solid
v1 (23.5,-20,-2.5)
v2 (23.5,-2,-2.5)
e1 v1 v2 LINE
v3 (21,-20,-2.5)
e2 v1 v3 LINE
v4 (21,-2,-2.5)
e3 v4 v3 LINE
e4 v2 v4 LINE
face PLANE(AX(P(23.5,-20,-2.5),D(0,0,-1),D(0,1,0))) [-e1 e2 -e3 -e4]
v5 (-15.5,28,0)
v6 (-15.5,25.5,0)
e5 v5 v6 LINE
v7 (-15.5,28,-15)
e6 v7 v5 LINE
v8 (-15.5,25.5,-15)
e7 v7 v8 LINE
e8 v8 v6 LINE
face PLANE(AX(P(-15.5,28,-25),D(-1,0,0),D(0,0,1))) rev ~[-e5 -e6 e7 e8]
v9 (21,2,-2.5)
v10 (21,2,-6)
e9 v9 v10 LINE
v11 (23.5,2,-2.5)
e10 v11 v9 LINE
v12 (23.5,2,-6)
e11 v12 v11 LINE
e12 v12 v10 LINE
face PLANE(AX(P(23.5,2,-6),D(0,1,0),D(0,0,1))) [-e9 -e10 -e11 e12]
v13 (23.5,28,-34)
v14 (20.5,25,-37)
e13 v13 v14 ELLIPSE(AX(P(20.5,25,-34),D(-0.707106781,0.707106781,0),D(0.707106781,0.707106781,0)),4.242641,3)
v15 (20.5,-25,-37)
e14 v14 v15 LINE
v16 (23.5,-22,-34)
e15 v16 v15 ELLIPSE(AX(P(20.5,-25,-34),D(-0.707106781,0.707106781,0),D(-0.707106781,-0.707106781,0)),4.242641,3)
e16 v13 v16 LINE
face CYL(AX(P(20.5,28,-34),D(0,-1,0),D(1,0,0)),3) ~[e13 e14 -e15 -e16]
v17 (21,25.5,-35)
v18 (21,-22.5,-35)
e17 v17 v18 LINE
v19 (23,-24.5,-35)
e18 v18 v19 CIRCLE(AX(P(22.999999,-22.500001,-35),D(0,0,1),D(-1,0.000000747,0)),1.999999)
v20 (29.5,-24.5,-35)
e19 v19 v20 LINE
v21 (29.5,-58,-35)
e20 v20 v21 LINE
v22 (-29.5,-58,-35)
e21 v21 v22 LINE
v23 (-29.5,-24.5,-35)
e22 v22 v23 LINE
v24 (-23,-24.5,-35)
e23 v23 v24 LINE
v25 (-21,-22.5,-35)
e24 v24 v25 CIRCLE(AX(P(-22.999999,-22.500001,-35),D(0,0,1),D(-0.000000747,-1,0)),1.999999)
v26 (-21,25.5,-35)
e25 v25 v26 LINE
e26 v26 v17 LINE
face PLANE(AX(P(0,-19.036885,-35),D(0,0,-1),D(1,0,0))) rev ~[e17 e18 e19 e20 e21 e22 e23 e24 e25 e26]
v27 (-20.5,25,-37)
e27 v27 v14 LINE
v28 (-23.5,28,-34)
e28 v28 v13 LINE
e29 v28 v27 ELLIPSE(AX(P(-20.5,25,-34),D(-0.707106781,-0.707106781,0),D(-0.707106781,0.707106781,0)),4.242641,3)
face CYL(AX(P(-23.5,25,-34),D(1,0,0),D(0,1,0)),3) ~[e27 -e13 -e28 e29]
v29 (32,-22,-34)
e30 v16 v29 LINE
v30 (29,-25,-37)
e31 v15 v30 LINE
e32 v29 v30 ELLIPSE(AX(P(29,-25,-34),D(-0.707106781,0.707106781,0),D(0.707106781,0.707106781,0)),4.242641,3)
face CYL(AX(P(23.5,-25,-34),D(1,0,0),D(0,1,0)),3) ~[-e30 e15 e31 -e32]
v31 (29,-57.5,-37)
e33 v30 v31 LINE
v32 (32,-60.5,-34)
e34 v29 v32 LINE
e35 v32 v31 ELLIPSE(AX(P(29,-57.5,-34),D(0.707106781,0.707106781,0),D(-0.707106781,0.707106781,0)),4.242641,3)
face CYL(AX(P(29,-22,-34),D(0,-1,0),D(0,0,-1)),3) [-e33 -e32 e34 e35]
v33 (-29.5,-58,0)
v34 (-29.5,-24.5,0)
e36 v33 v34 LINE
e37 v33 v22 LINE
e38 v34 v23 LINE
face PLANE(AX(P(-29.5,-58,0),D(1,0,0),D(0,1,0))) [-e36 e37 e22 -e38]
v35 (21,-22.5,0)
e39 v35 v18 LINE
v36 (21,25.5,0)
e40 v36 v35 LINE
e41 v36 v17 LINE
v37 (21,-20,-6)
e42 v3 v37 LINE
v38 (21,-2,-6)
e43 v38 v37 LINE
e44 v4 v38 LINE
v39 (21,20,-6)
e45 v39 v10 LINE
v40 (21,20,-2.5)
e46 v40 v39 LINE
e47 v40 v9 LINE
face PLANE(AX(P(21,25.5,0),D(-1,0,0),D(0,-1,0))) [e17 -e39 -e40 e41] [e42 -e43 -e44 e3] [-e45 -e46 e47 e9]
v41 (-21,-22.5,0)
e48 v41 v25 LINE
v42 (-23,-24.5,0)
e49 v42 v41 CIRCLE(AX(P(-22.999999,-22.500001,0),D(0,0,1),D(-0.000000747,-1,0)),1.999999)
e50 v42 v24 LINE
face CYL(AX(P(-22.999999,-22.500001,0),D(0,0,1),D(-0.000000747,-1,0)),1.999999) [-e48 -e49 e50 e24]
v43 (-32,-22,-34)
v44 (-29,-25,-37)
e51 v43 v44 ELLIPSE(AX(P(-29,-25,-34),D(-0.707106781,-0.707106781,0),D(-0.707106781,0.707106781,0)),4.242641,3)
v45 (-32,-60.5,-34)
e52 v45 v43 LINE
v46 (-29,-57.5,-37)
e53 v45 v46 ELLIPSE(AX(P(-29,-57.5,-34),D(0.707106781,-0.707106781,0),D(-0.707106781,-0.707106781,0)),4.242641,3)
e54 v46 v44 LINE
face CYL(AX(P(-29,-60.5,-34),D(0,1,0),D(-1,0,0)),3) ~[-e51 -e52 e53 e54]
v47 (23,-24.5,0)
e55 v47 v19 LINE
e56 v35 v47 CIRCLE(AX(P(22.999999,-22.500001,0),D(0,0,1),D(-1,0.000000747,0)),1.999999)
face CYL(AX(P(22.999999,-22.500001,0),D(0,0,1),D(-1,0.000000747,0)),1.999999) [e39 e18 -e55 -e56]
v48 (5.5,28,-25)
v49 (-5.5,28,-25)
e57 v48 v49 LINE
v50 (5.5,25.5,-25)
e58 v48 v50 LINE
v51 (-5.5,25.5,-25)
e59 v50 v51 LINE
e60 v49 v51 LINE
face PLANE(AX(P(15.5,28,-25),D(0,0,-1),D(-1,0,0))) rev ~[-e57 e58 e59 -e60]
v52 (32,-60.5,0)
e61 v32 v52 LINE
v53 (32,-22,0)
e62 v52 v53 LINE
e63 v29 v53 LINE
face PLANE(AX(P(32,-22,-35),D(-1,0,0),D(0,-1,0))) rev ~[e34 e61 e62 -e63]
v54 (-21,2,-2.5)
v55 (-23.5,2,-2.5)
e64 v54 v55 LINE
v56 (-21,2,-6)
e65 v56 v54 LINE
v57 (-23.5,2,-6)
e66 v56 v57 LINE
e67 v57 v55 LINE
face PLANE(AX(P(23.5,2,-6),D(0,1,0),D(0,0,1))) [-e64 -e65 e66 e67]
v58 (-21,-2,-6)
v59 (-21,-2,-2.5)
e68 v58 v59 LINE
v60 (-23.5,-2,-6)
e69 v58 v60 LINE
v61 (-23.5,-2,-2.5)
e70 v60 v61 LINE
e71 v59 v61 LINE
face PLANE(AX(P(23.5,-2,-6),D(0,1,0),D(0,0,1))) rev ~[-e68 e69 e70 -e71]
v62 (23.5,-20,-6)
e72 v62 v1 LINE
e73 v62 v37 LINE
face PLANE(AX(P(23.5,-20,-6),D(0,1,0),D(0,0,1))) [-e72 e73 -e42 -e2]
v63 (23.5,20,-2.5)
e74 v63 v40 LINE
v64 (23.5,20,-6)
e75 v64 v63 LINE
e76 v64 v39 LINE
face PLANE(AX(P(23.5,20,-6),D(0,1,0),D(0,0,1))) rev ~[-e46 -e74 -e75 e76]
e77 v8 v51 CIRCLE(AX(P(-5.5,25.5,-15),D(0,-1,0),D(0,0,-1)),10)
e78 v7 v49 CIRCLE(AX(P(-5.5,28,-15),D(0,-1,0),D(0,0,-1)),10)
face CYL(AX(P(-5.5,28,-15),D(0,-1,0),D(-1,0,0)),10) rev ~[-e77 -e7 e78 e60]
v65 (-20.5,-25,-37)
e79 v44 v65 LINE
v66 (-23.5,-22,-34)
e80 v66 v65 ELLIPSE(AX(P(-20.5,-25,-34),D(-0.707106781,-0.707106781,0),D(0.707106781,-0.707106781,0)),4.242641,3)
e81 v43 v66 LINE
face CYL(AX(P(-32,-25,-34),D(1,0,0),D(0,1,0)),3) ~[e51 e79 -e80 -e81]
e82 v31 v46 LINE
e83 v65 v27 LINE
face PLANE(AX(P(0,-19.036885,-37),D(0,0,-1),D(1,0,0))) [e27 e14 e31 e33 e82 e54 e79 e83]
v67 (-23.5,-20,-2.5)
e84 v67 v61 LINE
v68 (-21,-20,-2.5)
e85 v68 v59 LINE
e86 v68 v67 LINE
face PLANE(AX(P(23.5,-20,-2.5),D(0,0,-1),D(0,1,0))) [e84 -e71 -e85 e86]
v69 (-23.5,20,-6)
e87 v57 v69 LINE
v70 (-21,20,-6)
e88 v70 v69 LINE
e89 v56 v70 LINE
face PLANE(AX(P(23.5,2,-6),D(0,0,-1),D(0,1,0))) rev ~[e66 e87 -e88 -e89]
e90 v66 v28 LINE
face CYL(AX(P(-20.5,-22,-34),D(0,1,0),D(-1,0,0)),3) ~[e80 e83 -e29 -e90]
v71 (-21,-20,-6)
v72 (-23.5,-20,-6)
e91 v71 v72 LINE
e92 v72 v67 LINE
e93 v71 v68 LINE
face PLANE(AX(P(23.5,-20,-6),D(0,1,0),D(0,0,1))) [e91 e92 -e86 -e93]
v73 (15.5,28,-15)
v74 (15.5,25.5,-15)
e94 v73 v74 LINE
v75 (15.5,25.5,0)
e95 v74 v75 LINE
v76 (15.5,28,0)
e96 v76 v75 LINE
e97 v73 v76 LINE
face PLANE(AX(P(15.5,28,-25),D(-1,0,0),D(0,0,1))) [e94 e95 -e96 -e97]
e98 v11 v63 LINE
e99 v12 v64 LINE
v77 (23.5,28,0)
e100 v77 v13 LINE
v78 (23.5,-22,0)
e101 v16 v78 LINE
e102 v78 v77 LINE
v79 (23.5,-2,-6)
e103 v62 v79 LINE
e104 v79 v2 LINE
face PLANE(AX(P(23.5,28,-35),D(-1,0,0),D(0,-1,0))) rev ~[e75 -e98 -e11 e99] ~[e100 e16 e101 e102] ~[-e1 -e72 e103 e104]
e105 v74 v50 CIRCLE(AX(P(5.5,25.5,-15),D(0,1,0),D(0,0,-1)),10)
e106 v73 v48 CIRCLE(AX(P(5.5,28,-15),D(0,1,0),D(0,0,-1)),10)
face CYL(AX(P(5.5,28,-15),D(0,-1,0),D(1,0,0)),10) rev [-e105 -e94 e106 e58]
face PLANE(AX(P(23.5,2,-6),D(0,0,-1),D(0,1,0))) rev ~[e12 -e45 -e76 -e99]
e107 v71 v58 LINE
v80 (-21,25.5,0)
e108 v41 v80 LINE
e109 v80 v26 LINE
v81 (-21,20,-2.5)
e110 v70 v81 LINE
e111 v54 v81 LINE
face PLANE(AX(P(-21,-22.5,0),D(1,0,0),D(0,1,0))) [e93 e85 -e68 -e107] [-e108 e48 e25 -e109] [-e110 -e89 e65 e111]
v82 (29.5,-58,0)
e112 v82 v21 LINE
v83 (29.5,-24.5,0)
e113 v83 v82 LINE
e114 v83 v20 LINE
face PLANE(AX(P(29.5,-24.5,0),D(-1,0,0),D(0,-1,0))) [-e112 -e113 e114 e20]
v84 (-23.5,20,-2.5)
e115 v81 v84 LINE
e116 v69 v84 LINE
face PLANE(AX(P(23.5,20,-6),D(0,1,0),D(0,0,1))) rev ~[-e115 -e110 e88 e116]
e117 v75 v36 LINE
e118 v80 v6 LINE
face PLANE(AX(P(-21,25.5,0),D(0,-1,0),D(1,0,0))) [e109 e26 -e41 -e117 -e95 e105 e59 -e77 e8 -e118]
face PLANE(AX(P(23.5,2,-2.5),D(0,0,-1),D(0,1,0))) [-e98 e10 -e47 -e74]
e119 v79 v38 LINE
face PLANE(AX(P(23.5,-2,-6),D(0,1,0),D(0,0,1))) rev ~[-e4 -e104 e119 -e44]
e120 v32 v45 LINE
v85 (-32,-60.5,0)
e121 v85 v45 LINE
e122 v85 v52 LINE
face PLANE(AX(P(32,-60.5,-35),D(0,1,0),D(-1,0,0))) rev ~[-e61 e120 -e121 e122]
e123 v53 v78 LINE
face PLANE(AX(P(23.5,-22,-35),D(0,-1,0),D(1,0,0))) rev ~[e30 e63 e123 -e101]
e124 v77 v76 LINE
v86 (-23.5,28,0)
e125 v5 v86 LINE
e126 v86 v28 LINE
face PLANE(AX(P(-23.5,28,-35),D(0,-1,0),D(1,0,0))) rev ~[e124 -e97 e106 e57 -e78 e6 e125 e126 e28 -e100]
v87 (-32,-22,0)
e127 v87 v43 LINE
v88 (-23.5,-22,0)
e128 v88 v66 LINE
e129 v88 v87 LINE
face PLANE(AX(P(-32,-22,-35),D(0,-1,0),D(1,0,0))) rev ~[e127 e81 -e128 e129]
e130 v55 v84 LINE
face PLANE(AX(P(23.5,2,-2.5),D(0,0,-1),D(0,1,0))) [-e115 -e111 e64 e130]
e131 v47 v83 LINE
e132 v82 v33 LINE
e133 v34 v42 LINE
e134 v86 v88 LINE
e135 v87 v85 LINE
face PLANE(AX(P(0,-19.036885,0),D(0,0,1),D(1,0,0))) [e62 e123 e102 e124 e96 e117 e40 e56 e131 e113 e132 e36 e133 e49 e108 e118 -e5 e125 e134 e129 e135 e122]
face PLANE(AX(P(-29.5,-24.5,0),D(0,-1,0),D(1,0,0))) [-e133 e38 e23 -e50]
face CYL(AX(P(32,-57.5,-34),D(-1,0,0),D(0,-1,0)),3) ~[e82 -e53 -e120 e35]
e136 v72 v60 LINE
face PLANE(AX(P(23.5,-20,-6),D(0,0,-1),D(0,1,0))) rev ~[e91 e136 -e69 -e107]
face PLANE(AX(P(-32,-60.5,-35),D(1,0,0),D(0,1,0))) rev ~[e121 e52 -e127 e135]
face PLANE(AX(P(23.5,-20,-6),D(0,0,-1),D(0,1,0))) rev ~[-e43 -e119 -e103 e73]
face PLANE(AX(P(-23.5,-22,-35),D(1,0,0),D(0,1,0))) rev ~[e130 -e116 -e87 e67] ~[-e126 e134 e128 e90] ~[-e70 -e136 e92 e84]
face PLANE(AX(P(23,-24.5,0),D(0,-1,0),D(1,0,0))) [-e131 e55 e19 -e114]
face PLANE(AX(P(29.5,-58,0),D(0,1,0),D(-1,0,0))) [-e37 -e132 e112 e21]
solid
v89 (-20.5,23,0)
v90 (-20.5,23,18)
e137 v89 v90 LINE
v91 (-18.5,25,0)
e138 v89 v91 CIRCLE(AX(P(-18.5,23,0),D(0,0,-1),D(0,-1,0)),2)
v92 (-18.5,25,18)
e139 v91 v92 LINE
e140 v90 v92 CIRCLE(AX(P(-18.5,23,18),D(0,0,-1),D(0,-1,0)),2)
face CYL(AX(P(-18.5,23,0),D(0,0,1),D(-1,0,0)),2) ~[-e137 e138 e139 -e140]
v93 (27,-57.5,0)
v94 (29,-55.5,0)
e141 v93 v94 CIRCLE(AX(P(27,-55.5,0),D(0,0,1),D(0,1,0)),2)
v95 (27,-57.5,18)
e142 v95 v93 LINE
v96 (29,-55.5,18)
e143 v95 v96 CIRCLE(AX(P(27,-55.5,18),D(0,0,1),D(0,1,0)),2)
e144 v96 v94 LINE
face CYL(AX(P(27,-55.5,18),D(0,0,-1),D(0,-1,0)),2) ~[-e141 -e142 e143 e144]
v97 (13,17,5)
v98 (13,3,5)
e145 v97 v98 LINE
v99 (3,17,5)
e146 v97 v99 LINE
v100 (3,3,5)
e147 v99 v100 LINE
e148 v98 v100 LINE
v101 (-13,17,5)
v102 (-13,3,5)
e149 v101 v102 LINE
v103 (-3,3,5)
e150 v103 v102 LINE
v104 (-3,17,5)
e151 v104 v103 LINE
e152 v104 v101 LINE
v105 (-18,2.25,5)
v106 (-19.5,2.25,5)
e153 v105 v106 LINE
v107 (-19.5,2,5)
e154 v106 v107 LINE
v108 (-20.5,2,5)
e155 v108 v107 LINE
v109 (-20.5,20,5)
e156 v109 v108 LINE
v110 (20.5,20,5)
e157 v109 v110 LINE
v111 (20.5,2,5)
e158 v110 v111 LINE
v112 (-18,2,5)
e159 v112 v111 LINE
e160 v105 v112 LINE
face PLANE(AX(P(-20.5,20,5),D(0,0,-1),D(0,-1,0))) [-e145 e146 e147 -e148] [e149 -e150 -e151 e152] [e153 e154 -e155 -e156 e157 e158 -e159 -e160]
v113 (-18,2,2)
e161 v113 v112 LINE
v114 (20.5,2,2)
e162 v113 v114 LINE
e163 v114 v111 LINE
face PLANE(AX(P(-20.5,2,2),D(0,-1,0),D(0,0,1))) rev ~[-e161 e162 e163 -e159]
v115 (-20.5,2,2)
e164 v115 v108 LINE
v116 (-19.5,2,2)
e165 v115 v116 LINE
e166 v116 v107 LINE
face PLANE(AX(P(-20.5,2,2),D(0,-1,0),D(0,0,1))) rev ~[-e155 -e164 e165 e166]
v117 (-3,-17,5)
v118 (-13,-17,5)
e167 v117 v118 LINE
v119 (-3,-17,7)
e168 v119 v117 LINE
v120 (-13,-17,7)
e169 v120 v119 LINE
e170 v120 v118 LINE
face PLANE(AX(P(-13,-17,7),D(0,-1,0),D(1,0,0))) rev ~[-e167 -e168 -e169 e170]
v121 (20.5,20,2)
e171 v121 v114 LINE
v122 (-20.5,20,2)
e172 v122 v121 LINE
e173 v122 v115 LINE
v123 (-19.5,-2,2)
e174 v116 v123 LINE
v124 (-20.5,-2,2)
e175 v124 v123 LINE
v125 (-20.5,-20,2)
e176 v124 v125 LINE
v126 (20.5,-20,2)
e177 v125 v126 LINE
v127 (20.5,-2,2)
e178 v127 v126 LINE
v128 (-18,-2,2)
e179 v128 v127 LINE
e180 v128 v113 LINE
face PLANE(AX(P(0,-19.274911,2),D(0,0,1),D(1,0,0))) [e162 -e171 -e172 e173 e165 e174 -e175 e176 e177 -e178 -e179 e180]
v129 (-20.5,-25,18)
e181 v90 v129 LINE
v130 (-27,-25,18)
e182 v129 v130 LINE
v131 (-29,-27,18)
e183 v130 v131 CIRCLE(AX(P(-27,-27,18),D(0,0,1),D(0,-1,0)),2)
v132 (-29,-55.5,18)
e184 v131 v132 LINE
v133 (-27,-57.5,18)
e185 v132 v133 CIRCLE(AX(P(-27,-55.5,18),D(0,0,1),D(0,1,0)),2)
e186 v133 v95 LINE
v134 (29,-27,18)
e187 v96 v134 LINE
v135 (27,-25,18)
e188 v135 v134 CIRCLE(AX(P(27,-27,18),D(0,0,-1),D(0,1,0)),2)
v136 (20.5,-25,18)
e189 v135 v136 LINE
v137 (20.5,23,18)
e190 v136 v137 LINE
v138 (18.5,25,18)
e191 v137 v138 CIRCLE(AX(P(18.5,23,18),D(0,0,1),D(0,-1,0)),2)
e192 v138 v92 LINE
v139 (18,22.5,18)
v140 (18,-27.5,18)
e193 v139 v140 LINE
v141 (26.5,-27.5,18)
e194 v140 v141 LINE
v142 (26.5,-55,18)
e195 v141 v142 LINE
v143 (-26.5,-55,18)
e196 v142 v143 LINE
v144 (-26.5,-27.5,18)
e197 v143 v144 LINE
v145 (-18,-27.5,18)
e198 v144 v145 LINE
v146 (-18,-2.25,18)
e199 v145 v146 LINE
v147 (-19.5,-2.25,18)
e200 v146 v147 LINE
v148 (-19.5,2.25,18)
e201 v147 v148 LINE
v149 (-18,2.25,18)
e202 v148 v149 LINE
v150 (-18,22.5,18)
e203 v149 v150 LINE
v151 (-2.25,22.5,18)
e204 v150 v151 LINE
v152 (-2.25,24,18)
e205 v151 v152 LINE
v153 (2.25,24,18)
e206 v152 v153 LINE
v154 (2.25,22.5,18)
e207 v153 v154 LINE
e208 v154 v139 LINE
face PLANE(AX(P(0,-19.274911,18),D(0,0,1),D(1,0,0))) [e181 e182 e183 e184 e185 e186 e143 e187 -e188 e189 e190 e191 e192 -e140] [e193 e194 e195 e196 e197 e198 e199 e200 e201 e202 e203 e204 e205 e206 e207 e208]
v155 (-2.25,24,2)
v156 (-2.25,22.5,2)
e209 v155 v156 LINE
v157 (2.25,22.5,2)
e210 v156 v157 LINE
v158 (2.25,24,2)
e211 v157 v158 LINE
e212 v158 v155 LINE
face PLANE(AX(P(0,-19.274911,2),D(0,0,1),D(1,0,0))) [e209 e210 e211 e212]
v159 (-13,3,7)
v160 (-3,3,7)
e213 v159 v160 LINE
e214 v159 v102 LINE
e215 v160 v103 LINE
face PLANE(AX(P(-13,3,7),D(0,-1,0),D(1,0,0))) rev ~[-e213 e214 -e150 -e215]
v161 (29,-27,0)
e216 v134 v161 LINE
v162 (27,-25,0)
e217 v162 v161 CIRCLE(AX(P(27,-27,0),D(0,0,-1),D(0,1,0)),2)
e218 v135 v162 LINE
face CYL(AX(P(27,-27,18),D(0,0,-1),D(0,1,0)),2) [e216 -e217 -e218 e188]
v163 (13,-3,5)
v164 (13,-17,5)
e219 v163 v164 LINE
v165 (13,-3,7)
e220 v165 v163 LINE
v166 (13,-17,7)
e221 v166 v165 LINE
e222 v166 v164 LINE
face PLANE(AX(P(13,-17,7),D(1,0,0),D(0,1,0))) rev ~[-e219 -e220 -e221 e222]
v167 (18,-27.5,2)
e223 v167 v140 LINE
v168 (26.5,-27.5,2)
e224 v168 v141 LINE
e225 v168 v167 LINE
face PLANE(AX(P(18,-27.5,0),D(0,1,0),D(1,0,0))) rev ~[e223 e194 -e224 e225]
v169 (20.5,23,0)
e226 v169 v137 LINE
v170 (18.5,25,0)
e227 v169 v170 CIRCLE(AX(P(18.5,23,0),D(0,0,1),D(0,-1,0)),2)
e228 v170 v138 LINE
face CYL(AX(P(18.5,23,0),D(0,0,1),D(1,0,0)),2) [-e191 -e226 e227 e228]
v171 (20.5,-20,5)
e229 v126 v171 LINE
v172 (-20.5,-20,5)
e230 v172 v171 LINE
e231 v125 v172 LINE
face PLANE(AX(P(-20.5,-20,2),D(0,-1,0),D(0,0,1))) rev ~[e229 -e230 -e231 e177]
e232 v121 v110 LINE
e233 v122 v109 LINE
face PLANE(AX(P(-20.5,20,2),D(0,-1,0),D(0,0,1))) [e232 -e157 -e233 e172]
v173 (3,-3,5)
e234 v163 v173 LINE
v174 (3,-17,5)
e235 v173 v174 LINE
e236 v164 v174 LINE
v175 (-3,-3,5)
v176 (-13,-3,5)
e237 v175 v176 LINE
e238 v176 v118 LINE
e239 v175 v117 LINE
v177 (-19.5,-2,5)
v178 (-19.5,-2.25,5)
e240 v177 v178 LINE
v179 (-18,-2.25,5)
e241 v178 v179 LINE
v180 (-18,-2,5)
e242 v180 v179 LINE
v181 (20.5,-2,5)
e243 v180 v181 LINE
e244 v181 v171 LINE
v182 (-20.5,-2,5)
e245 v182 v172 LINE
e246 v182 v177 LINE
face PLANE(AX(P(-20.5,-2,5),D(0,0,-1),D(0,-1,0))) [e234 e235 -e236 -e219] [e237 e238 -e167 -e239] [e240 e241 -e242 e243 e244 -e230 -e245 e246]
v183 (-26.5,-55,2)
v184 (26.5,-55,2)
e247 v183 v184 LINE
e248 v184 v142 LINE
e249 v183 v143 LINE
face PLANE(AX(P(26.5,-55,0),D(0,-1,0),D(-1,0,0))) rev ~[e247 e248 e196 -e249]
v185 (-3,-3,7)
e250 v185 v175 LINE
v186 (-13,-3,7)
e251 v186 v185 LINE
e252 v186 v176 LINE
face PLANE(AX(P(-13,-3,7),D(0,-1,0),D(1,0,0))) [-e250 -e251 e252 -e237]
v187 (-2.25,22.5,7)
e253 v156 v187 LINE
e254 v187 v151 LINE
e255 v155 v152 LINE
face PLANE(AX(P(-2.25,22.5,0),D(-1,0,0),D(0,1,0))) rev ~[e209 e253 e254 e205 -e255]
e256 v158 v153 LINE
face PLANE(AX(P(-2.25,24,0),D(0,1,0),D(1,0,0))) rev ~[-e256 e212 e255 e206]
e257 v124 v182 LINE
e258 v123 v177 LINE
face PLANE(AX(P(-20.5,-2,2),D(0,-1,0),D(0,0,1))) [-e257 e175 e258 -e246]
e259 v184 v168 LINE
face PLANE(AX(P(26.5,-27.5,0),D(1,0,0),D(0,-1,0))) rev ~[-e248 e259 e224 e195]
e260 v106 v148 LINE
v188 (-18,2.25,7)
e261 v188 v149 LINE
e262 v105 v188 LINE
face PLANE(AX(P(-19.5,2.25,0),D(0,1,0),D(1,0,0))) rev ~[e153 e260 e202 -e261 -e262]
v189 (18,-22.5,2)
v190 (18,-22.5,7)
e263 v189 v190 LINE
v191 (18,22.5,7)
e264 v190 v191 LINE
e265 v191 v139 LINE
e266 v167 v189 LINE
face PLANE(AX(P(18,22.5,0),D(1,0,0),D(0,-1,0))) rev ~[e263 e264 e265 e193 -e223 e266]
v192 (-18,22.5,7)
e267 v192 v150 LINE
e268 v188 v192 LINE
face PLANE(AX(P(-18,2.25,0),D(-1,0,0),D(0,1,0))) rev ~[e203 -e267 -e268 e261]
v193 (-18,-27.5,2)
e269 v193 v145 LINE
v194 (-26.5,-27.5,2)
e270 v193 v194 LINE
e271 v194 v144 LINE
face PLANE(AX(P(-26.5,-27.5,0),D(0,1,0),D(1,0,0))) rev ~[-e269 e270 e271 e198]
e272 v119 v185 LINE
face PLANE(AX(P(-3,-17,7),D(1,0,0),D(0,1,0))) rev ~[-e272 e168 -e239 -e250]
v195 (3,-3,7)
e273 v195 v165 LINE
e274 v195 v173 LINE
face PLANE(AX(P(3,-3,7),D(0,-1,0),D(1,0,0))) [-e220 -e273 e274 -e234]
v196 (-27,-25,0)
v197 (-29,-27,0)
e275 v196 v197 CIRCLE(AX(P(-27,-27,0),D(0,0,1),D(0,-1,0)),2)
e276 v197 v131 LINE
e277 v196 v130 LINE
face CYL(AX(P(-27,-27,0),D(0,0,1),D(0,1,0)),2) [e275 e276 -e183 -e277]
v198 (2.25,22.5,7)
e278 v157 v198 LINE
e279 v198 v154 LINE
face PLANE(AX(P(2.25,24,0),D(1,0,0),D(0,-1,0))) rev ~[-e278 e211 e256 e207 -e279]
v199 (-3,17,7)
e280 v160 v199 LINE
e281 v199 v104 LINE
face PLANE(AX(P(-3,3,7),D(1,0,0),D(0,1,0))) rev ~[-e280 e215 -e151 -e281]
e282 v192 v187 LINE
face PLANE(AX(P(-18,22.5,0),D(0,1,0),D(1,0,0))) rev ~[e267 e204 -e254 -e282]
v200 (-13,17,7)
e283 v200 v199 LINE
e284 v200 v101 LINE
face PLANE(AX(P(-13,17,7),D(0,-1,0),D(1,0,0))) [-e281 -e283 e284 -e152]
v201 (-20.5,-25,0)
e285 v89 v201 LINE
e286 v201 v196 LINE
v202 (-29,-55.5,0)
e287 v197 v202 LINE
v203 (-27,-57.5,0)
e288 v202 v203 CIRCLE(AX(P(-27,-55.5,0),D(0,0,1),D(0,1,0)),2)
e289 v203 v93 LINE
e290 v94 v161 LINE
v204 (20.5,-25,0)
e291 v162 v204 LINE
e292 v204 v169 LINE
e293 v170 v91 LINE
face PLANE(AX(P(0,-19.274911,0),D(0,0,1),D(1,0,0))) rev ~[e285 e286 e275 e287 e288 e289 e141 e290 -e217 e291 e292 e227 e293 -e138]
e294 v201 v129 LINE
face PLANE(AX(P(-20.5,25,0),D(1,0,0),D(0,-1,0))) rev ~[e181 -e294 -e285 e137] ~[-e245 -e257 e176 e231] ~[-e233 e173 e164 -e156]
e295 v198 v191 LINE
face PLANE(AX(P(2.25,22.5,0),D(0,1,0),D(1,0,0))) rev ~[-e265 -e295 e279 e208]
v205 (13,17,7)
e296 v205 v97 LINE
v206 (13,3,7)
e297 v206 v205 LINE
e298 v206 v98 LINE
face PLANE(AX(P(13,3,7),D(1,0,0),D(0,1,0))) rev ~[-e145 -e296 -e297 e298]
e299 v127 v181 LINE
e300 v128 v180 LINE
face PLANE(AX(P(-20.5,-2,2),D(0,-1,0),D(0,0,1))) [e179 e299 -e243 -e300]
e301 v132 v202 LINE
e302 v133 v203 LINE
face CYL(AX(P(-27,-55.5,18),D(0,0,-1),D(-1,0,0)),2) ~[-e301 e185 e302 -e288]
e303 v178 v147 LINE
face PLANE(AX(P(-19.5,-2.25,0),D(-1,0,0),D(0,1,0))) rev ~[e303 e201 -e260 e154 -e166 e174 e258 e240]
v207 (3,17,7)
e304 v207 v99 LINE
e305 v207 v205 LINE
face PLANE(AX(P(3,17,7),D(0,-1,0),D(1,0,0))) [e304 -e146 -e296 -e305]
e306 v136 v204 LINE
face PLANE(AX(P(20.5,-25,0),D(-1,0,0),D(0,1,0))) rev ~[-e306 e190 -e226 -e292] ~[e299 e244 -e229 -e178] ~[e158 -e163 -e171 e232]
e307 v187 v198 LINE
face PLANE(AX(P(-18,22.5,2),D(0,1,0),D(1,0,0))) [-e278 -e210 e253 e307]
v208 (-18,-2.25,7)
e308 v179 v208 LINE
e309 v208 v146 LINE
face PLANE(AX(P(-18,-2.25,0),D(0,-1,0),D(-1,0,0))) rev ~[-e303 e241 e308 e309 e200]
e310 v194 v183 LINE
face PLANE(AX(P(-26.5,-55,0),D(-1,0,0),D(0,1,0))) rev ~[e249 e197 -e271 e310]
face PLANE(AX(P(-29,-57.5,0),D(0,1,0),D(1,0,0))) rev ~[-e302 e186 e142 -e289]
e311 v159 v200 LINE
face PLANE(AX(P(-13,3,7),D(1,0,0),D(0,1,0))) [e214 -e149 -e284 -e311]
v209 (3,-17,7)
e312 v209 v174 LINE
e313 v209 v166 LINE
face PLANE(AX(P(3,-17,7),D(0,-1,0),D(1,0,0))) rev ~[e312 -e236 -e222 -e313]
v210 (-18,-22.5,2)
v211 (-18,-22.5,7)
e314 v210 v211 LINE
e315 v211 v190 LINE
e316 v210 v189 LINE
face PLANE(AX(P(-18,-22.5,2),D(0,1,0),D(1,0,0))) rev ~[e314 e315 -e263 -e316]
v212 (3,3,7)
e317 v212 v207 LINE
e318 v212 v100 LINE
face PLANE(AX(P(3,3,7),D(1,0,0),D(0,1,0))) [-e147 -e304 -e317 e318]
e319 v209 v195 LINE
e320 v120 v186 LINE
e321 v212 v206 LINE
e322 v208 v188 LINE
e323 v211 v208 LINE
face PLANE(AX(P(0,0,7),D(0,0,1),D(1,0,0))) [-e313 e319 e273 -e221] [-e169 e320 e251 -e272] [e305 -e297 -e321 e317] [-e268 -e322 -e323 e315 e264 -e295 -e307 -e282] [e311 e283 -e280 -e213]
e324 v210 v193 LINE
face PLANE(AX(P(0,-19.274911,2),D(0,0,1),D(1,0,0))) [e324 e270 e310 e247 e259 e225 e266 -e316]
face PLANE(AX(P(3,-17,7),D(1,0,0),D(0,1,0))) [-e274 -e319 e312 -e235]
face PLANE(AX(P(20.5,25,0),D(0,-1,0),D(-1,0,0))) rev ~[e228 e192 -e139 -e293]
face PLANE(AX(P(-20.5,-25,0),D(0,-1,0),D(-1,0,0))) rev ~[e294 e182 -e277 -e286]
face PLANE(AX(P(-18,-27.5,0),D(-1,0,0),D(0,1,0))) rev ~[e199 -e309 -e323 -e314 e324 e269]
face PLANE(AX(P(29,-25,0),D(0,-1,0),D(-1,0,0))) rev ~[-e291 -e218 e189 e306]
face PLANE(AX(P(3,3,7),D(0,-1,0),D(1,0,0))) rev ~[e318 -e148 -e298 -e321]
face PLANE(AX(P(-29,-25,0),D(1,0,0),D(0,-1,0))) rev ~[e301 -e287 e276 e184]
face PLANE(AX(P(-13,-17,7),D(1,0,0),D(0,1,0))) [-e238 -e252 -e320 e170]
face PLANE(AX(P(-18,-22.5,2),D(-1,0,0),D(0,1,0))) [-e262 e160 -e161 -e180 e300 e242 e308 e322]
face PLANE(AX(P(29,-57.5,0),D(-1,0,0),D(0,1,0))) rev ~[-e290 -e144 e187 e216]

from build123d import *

# Parameters (mm, degrees)
F1_DEPTH  = 2
F2_DEPTH  = 18
F3_W      = 36
F3_H      = 45
F4_DEPTH  = 5
F5_W      = 18
F5_H      = 3
F6_DEPTH  = 41
F7_W      = 10
F7_H      = 14
F8_DEPTH  = 3
F9_DEPTH  = 35
F11_DEPTH = 2
F12_R     = 3
F13_R     = 2
F14_W     = 31
F14_H     = 25
F15_DEPTH = 2.5
F16_W     = 18
F16_H     = 3.5
F17_DEPTH = 47
F18_R     = 10


with BuildPart() as f1:
    # F0 (on Top) → F1 (new body)
    with BuildSketch(Plane.XY):
        Polygon((20.5, -25), (20.5, 25), (-20.5, 25), (-20.5, -25), (-29, -25), (-29, -57.5), (29, -57.5), (29, -25), align=None)
        Polygon((2.25, 22.5), (18, 22.5), (18, -27.5), (26.5, -27.5), (26.5, -55), (-26.5, -55), (-26.5, -27.5), (-18, -27.5), (-18, -2.25), (-19.5, -2.25), (-19.5, 2.25), (-18, 2.25), (-18, 22.5), (-2.25, 22.5), (-2.25, 24), (2.25, 24), align=None, mode=Mode.SUBTRACT)
        Polygon((18, -27.5), (18, 22.5), (2.25, 22.5), (2.25, 24), (-2.25, 24), (-2.25, 22.5), (-18, 22.5), (-18, 2.25), (-19.5, 2.25), (-19.5, -2.25), (-18, -2.25), (-18, -27.5), (-26.5, -27.5), (-26.5, -55), (26.5, -55), (26.5, -27.5), align=None)
    extrude(amount=F1_DEPTH)

    # F0 (on Top) → F2 (join)
    with BuildSketch(Plane.XY):
        Polygon((20.5, -25), (20.5, 25), (-20.5, 25), (-20.5, -25), (-29, -25), (-29, -57.5), (29, -57.5), (29, -25), align=None)
        Polygon((2.25, 22.5), (18, 22.5), (18, -27.5), (26.5, -27.5), (26.5, -55), (-26.5, -55), (-26.5, -27.5), (-18, -27.5), (-18, -2.25), (-19.5, -2.25), (-19.5, 2.25), (-18, 2.25), (-18, 22.5), (-2.25, 22.5), (-2.25, 24), (2.25, 24), align=None, mode=Mode.SUBTRACT)
    extrude(amount=F2_DEPTH)

    # F3 (on face) → F4 (join)
    with BuildSketch(Plane.XY.offset(2)):
        Rectangle(F3_W, F3_H)
    extrude(amount=F4_DEPTH)

    # F5 (on face) → F6 (cut, through all)
    with BuildSketch(Plane(origin=(-20.5, 0, 0), x_dir=(0, -1, 0), z_dir=(-1, 0, 0))):
        with Locations((11, 3.5)):
            Rectangle(F5_W, F5_H)
        with Locations((-11, 3.5)):
            Rectangle(F5_W, F5_H)
    extrude(amount=-F6_DEPTH, mode=Mode.SUBTRACT)

    # F7 (on face) → F8 (cut)
    with BuildSketch(Plane.XY.offset(7)):
        with Locations((-8, 10)):
            Rectangle(F7_W, F7_H)
        with Locations((8, 10)):
            Rectangle(F7_W, F7_H)
        with Locations((-8, -10)):
            Rectangle(F7_W, F7_H)
        with Locations((8, -10)):
            Rectangle(F7_W, F7_H)
    extrude(amount=-F8_DEPTH, mode=Mode.SUBTRACT)

    # F13
    f13_edges = [f1.edges().sort_by_distance(p)[0] for p in [
        (-29, -57.5, 9),
        (-29, -25, 9),
        (29, -57.5, 9),
        (-20.5, 25, 9),
        (29, -25, 9),
        (20.5, 25, 9),
    ]]
    fillet(f13_edges, radius=F13_R)


with BuildPart() as f9:
    # F0 (on Top) → F9 (new body)
    with BuildSketch(Plane.XY):
        Polygon((-23.5, -22), (-32, -22), (-32, -60.5), (32, -60.5), (32, -22), (23.5, -22), (23.5, 28), (-23.5, 28), align=None)
        with BuildLine():
            Line((-29.5, -58), (-29.5, -24.5))
            Line((-29.5, -24.5), (-23, -24.5))
            ThreePointArc((-23, -24.5), (-21.585786, -23.914214), (-21, -22.5))
            Line((-21, -22.5), (-21, 25.5))
            Line((-21, 25.5), (21, 25.5))
            Line((21, 25.5), (21, -22.5))
            ThreePointArc((21, -22.5), (21.585786, -23.914214), (23, -24.5))
            Line((23, -24.5), (29.5, -24.5))
            Line((29.5, -24.5), (29.5, -58))
            Line((29.5, -58), (-29.5, -58))
        make_face(mode=Mode.SUBTRACT)
    extrude(amount=-F9_DEPTH)

    # F10 (on face) → F11 (join)
    with BuildSketch(Plane(origin=(0, 0, -35), x_dir=(1, 0, 0), z_dir=(0, 0, -1))):
        Polygon((32, 60.5), (-32, 60.5), (-32, 22), (-23.5, 22), (-23.5, -28), (23.5, -28), (23.5, 22), (32, 22), align=None)
    extrude(amount=F11_DEPTH)

    # F12
    f12_edges = [f9.edges().sort_by_distance(p)[0] for p in [
        (0, -60.5, -37),
        (-32, -41.25, -37),
        (-27.75, -22, -37),
        (-23.5, 3, -37),
        (0, 28, -37),
        (23.5, 3, -37),
        (27.75, -22, -37),
        (32, -41.25, -37),
    ]]
    fillet(f12_edges, radius=F12_R)

    # F14 (on face) → F15 (cut, through all)
    with BuildSketch(Plane(origin=(0, 28, 0), x_dir=(-1, 0, 0), z_dir=(0, 1, 0))):
        with Locations((0, -12.5)):
            Rectangle(F14_W, F14_H)
    extrude(amount=-F15_DEPTH, mode=Mode.SUBTRACT)

    # F16 (on face) → F17 (cut, through all)
    with BuildSketch(Plane.YZ.offset(23.5)):
        with Locations((-11, -4.25)):
            Rectangle(F16_W, F16_H)
        with Locations((11, -4.25)):
            Rectangle(F16_W, F16_H)
    extrude(amount=-F17_DEPTH, mode=Mode.SUBTRACT)

    # F18
    f18_edges = [f9.edges().sort_by_distance(p)[0] for p in [
        (15.5, 26.75, -25),
        (-15.5, 26.75, -25),
    ]]
    fillet(f18_edges, radius=F18_R)


solid = Compound([f1.part, f9.part])
